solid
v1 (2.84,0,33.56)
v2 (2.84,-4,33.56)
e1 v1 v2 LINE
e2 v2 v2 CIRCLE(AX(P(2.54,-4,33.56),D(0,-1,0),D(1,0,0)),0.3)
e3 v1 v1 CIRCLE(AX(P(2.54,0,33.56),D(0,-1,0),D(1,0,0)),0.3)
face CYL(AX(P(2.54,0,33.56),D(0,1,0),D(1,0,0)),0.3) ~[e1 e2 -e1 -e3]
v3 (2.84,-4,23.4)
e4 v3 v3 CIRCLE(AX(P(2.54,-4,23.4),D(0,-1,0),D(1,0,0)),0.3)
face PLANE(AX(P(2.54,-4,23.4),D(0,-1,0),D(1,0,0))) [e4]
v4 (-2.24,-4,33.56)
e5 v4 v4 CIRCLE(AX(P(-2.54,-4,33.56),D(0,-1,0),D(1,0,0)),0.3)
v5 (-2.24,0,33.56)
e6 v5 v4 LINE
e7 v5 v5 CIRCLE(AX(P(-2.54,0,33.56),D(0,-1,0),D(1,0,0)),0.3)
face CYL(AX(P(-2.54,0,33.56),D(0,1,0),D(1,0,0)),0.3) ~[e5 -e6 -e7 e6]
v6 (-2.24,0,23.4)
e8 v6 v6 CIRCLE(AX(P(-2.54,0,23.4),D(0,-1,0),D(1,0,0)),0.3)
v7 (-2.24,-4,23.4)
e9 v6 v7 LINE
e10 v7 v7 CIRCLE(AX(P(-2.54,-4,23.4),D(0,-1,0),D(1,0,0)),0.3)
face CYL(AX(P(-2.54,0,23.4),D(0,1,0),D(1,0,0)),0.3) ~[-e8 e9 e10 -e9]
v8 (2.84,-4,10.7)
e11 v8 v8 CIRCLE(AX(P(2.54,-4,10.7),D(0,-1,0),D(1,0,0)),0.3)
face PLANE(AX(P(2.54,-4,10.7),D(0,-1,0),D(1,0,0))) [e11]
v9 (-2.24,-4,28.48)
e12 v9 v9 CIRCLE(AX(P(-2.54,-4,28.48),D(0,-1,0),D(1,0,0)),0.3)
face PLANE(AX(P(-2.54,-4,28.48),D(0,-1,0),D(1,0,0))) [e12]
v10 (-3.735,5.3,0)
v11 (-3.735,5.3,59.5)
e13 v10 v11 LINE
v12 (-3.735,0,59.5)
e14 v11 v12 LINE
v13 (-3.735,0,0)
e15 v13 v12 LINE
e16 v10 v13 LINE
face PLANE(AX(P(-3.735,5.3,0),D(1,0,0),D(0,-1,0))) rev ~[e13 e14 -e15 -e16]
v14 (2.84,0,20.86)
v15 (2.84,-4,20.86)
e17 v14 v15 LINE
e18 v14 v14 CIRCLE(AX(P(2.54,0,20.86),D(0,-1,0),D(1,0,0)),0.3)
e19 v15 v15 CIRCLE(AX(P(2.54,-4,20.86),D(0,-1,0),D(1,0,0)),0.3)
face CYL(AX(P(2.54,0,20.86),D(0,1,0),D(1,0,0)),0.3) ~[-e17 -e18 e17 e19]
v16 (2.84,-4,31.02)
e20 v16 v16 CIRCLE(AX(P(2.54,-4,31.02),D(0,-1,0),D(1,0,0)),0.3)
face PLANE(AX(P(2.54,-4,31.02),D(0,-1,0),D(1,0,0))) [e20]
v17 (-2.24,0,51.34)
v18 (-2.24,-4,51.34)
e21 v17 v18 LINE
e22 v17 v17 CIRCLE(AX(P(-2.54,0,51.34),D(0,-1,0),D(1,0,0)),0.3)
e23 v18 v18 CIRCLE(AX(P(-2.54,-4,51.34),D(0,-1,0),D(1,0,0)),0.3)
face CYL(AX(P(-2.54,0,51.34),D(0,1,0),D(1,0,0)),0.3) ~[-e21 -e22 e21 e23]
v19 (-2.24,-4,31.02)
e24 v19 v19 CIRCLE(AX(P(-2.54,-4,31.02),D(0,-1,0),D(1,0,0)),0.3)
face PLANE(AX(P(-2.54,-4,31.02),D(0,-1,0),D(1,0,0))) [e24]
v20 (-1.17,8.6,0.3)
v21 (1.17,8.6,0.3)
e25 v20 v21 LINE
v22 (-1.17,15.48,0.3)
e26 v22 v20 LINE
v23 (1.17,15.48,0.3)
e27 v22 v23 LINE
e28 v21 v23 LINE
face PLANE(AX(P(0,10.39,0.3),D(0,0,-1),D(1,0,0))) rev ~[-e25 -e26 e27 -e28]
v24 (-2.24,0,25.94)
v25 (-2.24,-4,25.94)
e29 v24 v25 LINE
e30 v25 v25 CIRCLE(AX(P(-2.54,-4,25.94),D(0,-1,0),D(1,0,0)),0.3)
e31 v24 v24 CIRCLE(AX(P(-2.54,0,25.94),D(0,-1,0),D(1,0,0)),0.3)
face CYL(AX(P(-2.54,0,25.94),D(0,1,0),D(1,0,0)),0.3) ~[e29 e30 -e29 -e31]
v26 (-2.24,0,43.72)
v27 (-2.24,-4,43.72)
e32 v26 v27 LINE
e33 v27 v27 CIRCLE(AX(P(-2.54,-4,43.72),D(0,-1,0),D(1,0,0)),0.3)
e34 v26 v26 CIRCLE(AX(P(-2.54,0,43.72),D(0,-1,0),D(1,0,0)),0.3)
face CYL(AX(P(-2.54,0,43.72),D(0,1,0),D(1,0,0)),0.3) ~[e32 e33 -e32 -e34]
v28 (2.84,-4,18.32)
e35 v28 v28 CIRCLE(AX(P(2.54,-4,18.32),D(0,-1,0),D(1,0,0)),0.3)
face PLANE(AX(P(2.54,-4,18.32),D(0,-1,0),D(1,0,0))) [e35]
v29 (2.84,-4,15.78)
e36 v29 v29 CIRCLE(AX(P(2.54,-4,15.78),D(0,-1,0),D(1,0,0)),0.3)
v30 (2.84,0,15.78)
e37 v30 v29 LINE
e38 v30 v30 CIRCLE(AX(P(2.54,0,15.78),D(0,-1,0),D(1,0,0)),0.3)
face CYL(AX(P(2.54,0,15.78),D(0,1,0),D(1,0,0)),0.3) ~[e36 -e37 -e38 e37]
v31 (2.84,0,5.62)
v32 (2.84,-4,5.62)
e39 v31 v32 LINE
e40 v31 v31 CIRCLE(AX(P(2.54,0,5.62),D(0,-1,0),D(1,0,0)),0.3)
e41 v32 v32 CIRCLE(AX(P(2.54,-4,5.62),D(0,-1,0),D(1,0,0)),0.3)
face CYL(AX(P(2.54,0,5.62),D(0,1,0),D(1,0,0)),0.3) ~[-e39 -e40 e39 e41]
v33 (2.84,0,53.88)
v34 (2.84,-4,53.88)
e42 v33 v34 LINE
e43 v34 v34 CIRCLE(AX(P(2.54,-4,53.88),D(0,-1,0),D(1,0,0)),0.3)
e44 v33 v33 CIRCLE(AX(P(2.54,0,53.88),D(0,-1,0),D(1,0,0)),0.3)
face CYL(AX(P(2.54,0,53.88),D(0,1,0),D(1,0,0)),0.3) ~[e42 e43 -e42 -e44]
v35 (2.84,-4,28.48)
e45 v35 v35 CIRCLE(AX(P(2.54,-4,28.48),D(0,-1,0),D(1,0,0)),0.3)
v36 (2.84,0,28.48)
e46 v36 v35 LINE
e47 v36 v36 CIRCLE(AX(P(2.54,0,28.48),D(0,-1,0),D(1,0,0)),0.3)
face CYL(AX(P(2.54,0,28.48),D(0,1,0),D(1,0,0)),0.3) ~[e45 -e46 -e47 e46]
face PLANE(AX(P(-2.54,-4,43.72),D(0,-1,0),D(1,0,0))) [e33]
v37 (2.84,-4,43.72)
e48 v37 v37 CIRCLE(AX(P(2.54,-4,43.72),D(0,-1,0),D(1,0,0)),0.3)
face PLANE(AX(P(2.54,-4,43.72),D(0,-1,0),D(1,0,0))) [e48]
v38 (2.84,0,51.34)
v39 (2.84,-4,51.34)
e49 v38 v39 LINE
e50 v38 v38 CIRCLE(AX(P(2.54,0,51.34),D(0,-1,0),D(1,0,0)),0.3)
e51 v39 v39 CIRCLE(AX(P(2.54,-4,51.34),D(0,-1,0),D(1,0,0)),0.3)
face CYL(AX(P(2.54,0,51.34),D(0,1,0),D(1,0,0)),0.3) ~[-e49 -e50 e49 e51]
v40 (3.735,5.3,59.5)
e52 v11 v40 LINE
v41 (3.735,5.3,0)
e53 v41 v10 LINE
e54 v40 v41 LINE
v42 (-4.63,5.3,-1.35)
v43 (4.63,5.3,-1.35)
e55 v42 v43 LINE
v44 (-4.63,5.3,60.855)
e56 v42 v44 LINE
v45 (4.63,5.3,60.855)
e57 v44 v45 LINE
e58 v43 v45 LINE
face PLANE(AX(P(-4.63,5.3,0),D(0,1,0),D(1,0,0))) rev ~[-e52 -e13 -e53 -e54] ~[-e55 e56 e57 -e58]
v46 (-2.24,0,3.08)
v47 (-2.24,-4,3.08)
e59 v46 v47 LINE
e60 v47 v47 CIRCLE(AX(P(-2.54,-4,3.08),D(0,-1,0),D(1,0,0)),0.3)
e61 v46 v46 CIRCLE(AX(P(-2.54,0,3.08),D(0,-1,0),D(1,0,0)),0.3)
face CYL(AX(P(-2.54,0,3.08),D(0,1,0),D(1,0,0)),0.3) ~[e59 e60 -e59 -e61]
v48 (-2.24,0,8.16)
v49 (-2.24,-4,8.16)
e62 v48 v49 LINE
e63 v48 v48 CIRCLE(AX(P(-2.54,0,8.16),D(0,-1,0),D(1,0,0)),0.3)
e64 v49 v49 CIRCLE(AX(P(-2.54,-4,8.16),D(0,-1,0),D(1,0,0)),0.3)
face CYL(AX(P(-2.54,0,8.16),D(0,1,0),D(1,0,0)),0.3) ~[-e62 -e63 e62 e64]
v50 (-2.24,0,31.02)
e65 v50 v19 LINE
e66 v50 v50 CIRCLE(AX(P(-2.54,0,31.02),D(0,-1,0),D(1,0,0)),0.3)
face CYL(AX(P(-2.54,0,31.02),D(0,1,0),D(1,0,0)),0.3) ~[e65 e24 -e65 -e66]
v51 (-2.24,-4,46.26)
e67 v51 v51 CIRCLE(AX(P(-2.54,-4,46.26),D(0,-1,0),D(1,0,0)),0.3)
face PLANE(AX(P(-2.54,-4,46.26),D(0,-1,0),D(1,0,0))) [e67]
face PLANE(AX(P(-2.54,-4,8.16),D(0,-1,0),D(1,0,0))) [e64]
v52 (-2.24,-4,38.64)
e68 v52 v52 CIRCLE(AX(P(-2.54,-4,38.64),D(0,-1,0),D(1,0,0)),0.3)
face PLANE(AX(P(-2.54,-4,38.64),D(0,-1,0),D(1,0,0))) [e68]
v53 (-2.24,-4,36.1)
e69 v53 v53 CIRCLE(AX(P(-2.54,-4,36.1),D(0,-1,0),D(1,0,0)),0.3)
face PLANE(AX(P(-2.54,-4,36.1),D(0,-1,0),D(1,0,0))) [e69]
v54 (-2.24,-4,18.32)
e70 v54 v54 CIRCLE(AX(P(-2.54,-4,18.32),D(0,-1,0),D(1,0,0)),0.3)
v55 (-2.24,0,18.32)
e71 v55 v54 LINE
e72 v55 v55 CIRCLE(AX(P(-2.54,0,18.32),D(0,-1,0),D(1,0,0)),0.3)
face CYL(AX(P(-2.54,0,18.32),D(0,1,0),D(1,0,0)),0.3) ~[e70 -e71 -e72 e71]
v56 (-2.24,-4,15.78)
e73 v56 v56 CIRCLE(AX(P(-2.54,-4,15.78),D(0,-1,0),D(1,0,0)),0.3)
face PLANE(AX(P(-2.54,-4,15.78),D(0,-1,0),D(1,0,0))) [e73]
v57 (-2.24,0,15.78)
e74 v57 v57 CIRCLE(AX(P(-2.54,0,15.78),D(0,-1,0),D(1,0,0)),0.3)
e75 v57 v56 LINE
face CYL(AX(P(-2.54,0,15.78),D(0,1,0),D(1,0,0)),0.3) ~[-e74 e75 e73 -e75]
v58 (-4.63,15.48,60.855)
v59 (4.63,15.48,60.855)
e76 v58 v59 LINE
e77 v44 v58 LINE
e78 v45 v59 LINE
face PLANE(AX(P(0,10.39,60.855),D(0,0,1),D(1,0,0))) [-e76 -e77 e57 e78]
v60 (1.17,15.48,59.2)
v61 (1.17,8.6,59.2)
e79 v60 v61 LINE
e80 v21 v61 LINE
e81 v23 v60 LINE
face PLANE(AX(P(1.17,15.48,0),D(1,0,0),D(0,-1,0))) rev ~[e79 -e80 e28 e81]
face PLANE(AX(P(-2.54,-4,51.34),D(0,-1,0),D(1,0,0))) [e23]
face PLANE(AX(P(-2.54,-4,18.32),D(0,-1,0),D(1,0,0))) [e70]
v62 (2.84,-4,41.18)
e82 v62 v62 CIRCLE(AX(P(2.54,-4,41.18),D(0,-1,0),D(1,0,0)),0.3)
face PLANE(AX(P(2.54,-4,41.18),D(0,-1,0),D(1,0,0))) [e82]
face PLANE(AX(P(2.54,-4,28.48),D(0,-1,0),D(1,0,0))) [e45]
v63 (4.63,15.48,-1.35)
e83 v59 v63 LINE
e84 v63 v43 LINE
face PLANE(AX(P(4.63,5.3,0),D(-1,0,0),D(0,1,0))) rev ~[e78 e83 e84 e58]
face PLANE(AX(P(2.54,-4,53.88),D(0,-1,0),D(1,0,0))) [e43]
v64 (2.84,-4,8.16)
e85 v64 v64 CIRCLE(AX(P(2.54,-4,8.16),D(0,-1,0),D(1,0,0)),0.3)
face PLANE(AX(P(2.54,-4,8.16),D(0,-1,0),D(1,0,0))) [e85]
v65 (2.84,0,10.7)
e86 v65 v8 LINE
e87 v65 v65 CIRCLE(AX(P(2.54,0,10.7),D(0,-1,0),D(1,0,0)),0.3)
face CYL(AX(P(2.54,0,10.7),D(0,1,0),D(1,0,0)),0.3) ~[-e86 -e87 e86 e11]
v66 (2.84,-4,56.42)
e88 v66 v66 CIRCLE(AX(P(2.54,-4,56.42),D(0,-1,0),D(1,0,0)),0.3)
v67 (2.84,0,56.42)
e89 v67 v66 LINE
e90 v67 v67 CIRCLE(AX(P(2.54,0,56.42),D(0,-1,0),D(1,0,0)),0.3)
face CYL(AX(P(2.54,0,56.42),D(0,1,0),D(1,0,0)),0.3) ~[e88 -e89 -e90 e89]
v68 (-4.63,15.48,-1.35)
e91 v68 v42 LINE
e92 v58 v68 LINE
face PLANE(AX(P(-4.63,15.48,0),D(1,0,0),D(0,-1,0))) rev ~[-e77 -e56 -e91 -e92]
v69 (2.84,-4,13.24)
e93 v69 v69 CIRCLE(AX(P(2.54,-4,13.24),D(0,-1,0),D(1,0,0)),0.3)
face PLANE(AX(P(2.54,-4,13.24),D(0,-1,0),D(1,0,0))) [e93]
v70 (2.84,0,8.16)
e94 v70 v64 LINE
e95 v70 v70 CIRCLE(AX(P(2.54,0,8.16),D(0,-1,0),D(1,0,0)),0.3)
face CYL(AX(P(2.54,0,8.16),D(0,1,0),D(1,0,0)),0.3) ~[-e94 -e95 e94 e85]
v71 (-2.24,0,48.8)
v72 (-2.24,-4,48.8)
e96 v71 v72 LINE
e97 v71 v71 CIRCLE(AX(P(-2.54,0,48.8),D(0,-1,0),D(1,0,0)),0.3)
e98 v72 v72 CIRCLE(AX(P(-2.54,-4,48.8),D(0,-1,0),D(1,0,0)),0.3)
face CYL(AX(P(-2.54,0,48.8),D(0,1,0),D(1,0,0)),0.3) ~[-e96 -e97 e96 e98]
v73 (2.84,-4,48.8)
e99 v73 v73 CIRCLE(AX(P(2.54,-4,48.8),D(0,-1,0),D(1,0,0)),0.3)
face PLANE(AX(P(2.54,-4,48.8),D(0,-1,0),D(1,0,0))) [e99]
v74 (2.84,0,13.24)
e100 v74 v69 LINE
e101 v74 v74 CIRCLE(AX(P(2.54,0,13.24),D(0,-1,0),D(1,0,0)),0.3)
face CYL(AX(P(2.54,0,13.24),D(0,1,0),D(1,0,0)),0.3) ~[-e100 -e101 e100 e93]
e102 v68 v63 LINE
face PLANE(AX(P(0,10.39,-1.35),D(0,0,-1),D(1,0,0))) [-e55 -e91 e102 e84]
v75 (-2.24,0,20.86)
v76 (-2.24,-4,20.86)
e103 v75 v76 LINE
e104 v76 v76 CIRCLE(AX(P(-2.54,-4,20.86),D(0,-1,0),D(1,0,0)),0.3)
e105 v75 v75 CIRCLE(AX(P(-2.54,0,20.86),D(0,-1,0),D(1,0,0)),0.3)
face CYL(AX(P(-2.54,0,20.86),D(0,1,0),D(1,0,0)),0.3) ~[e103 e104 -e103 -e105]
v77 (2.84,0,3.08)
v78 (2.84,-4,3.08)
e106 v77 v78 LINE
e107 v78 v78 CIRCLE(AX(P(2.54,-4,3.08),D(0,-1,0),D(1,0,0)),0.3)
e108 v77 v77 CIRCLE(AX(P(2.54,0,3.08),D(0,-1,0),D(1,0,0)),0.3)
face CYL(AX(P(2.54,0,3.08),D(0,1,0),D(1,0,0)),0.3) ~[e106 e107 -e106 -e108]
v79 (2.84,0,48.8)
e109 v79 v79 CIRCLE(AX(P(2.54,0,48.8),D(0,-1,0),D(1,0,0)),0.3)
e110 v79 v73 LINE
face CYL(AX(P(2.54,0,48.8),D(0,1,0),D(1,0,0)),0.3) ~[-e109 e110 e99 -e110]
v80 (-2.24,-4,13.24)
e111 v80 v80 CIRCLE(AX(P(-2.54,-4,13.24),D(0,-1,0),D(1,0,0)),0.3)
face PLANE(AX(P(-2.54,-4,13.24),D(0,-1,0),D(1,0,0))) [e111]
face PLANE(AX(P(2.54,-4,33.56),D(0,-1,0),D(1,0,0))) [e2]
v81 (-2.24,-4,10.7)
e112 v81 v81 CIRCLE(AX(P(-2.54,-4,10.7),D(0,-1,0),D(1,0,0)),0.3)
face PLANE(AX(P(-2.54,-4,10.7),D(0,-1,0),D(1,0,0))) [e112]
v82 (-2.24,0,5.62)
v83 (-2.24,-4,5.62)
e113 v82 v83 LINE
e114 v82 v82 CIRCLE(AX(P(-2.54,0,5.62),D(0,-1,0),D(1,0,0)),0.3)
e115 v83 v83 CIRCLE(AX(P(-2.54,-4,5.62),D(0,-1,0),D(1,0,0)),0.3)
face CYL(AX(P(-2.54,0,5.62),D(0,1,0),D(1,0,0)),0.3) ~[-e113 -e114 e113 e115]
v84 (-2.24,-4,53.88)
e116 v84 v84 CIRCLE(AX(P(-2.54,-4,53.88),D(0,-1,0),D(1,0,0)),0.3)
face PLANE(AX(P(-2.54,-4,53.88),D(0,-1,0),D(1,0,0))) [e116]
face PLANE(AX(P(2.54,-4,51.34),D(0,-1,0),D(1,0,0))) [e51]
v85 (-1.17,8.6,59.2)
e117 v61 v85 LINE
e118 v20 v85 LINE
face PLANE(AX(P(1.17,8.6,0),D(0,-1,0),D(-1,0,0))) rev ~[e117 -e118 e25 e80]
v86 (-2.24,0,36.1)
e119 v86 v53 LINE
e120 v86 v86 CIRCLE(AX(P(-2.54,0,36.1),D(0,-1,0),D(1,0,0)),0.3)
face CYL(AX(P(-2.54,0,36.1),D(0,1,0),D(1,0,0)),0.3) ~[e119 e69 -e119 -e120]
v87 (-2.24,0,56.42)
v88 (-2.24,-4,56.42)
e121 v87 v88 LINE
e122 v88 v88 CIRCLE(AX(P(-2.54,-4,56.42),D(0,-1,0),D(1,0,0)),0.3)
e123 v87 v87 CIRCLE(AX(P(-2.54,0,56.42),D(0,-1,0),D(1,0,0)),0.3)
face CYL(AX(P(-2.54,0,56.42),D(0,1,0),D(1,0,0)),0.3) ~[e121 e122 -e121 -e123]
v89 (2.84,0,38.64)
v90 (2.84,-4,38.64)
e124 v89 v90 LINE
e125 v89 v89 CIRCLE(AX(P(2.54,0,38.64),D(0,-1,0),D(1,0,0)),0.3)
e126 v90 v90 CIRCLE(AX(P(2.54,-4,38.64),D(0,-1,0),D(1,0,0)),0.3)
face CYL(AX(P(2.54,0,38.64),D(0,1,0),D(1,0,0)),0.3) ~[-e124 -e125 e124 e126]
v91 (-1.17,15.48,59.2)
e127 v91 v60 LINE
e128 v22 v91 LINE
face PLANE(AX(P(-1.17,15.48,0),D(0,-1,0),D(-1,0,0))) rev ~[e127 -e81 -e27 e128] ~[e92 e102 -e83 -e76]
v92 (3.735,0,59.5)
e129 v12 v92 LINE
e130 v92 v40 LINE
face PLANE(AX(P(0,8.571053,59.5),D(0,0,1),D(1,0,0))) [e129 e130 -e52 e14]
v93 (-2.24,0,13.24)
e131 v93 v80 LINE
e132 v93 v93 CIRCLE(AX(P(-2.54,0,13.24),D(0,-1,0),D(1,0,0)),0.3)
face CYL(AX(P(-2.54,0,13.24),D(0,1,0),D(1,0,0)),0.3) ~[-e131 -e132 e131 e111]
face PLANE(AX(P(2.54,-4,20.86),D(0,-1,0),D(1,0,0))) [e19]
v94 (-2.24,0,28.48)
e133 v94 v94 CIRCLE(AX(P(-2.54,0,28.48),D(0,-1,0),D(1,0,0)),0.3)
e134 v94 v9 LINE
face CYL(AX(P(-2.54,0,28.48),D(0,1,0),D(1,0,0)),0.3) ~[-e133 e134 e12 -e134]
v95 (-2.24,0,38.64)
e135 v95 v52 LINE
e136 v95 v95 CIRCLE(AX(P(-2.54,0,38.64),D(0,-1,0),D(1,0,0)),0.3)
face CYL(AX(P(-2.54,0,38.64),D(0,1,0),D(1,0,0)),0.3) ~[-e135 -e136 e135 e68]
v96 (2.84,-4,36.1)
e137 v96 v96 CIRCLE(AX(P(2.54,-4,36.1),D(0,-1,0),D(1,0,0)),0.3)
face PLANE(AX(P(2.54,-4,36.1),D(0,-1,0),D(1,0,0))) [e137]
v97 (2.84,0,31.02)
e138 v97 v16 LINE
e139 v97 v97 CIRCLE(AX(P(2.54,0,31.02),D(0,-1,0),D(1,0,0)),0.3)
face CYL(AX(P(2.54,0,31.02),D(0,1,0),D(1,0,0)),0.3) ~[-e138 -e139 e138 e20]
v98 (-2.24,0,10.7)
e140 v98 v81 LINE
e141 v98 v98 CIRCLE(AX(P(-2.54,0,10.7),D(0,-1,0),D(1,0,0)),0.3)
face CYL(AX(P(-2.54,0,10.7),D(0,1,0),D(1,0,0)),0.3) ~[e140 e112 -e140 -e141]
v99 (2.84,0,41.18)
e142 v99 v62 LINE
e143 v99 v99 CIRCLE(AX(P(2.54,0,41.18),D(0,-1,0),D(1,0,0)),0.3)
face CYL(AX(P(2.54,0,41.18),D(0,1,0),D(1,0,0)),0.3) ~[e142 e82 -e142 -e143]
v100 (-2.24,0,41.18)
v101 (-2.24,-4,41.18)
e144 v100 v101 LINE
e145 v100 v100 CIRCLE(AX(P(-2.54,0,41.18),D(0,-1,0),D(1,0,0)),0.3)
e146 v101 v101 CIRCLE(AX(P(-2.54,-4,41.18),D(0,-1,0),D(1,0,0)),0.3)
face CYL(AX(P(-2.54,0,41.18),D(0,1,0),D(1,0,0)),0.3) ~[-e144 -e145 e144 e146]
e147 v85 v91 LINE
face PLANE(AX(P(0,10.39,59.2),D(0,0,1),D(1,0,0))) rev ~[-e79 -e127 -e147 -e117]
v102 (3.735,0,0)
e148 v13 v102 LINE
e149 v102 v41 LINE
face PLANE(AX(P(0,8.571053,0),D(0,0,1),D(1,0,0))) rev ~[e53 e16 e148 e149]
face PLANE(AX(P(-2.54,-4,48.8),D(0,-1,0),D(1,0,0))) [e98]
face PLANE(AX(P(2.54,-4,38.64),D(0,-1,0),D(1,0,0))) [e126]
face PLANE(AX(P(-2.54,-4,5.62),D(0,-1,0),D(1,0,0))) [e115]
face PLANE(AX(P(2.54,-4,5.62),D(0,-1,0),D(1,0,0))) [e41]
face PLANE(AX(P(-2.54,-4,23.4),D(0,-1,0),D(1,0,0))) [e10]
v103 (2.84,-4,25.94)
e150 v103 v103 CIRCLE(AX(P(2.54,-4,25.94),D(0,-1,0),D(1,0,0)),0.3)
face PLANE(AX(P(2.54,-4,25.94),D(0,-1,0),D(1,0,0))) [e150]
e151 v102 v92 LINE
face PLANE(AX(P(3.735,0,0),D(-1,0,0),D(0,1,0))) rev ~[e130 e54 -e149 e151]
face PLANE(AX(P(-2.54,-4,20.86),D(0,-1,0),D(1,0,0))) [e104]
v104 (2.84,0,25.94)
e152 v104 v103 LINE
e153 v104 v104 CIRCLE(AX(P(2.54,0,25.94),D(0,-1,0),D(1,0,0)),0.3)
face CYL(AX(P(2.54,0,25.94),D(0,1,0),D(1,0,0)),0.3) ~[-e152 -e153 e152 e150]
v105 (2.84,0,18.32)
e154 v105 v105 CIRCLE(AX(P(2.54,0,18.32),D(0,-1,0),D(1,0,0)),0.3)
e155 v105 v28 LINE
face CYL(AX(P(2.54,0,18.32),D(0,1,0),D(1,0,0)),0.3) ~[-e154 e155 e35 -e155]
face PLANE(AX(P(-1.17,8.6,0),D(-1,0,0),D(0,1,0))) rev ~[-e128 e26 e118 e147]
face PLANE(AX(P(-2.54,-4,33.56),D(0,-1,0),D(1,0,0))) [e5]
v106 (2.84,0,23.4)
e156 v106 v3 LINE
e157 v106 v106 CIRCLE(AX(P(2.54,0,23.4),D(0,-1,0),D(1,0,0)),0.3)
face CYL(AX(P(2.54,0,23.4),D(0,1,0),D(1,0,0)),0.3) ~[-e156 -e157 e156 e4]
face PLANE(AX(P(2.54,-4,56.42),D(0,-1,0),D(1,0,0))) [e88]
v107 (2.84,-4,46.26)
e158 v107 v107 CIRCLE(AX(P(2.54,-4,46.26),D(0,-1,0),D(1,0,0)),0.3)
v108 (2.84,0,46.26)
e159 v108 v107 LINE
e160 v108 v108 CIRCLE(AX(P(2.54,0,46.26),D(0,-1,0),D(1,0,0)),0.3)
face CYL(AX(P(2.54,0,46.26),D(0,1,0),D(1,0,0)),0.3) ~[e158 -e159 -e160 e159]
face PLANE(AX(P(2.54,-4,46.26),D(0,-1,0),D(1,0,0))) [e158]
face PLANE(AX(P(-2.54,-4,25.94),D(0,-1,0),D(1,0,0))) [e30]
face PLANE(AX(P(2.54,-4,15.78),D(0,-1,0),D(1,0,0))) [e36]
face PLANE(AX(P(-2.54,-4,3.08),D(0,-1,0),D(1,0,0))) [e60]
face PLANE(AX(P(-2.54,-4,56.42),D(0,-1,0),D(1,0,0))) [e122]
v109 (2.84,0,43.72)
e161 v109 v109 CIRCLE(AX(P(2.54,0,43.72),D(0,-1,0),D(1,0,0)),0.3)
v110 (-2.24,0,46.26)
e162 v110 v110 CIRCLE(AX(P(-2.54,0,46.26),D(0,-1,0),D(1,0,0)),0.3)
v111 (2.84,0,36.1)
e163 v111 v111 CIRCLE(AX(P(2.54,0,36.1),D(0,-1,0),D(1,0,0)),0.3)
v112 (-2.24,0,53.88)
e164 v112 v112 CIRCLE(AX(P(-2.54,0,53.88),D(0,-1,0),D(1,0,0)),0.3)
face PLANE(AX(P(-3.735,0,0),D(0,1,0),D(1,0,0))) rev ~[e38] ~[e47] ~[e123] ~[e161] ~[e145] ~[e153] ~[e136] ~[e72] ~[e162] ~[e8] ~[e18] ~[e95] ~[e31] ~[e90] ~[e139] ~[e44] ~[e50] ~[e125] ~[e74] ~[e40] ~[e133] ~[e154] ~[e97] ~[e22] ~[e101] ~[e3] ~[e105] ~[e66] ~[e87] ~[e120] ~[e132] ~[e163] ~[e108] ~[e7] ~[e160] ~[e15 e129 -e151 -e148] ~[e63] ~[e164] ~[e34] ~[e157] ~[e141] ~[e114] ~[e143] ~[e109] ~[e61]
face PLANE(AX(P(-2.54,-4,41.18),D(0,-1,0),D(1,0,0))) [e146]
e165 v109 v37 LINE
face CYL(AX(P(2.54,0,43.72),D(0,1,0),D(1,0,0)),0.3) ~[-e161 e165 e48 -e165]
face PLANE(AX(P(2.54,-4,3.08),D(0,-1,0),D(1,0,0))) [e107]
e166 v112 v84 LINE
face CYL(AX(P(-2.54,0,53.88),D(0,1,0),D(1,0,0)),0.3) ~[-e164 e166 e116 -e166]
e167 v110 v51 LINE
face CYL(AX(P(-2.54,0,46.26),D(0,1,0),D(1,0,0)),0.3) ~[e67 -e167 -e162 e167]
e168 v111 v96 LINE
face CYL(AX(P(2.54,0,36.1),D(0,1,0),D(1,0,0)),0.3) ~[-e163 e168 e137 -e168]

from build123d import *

# Parameters (mm, degrees)
SKETCH001_W           = 9.26
SKETCH001_H           = 10.18
EXTRUDE001_DEPTH      = 1.355
EXTRUDE001_DEPTH_BACK = 0.3
SKETCH002_W           = 9.26
SKETCH002_H           = 10.18
EXTRUDE002_DEPTH      = 1.35
EXTRUDE002_DEPTH_BACK = 0.3
SKETCH003_R           = 0.3
EXTRUDE003_DEPTH      = 4
EXTRUDE_DEPTH         = 59.5


with BuildPart() as extrude001:
    # Sketch001 (on Face14 of Extrude) → Extrude001 (new body, two sides)
    with BuildSketch(Plane.XY.offset(59.5)) as extrude001_sk:
        with Locations((0, 10.39)):
            Rectangle(SKETCH001_W, SKETCH001_H)
    extrude(amount=EXTRUDE001_DEPTH)
    extrude(extrude001_sk.sketch, amount=-EXTRUDE001_DEPTH_BACK)


with BuildPart() as extrude002:
    # Sketch002 (on Face13 of Extrude) → Extrude002 (new body, two sides)
    with BuildSketch(Plane(origin=(0, 0, 0), x_dir=(1, 0, 0), z_dir=(0, 0, -1))) as extrude002_sk:
        with Locations((0, -10.39)):
            Rectangle(SKETCH002_W, SKETCH002_H)
    extrude(amount=EXTRUDE002_DEPTH)
    extrude(extrude002_sk.sketch, amount=-EXTRUDE002_DEPTH_BACK)


with BuildPart() as extrude003:
    # Sketch003 (on Face4 of Extrude) → Extrude003 (new body)
    with BuildSketch(Plane.XZ):
        with Locations((-2.54, 56.42)):
            Circle(SKETCH003_R)
        with Locations((-2.54, 53.88)):
            Circle(SKETCH003_R)
        with Locations((-2.54, 51.34)):
            Circle(SKETCH003_R)
        with Locations((-2.54, 48.8)):
            Circle(SKETCH003_R)
        with Locations((-2.54, 46.26)):
            Circle(SKETCH003_R)
        with Locations((-2.54, 43.72)):
            Circle(SKETCH003_R)
        with Locations((-2.54, 41.18)):
            Circle(SKETCH003_R)
        with Locations((-2.54, 38.64)):
            Circle(SKETCH003_R)
        with Locations((-2.54, 36.1)):
            Circle(SKETCH003_R)
        with Locations((-2.54, 33.56)):
            Circle(SKETCH003_R)
        with Locations((-2.54, 31.02)):
            Circle(SKETCH003_R)
        with Locations((-2.54, 28.48)):
            Circle(SKETCH003_R)
        with Locations((-2.54, 25.94)):
            Circle(SKETCH003_R)
        with Locations((-2.54, 23.4)):
            Circle(SKETCH003_R)
        with Locations((2.54, 23.4)):
            Circle(SKETCH003_R)
        with Locations((2.54, 25.94)):
            Circle(SKETCH003_R)
        with Locations((2.54, 28.48)):
            Circle(SKETCH003_R)
        with Locations((2.54, 31.02)):
            Circle(SKETCH003_R)
        with Locations((2.54, 33.56)):
            Circle(SKETCH003_R)
        with Locations((2.54, 36.1)):
            Circle(SKETCH003_R)
        with Locations((2.54, 38.64)):
            Circle(SKETCH003_R)
        with Locations((2.54, 41.18)):
            Circle(SKETCH003_R)
        with Locations((2.54, 43.72)):
            Circle(SKETCH003_R)
        with Locations((2.54, 46.26)):
            Circle(SKETCH003_R)
        with Locations((2.54, 48.8)):
            Circle(SKETCH003_R)
        with Locations((2.54, 51.34)):
            Circle(SKETCH003_R)
        with Locations((2.54, 53.88)):
            Circle(SKETCH003_R)
        with Locations((2.54, 56.42)):
            Circle(SKETCH003_R)
        with Locations((2.54, 10.7)):
            Circle(SKETCH003_R)
        with Locations((2.54, 13.24)):
            Circle(SKETCH003_R)
        with Locations((2.54, 15.78)):
            Circle(SKETCH003_R)
        with Locations((2.54, 18.32)):
            Circle(SKETCH003_R)
        with Locations((2.54, 20.86)):
            Circle(SKETCH003_R)
        with Locations((2.54, 3.08)):
            Circle(SKETCH003_R)
        with Locations((2.54, 5.62)):
            Circle(SKETCH003_R)
        with Locations((2.54, 8.16)):
            Circle(SKETCH003_R)
        with Locations((-2.54, 10.7)):
            Circle(SKETCH003_R)
        with Locations((-2.54, 13.24)):
            Circle(SKETCH003_R)
        with Locations((-2.54, 15.78)):
            Circle(SKETCH003_R)
        with Locations((-2.54, 18.32)):
            Circle(SKETCH003_R)
        with Locations((-2.54, 20.86)):
            Circle(SKETCH003_R)
        with Locations((-2.54, 3.08)):
            Circle(SKETCH003_R)
        with Locations((-2.54, 5.62)):
            Circle(SKETCH003_R)
        with Locations((-2.54, 8.16)):
            Circle(SKETCH003_R)
    extrude(amount=EXTRUDE003_DEPTH)


with BuildPart() as fusion:
    # Sketch → Extrude (new body)
    with BuildSketch(Plane.XY):
        Polygon((-4.63, 15.48), (-4.63, 5.3), (-3.735, 5.3), (-3.735, 0), (3.735, 0), (3.735, 5.3), (4.63, 5.3), (4.63, 15.48), (1.17, 15.48), (1.17, 8.6), (-1.17, 8.6), (-1.17, 15.48), align=None)
    extrude(amount=EXTRUDE_DEPTH)

    # Fusion: union Extrude001, Extrude002, Extrude003
    add(extrude001.part)
    add(extrude002.part)
    add(extrude003.part)


solid = fusion.part
